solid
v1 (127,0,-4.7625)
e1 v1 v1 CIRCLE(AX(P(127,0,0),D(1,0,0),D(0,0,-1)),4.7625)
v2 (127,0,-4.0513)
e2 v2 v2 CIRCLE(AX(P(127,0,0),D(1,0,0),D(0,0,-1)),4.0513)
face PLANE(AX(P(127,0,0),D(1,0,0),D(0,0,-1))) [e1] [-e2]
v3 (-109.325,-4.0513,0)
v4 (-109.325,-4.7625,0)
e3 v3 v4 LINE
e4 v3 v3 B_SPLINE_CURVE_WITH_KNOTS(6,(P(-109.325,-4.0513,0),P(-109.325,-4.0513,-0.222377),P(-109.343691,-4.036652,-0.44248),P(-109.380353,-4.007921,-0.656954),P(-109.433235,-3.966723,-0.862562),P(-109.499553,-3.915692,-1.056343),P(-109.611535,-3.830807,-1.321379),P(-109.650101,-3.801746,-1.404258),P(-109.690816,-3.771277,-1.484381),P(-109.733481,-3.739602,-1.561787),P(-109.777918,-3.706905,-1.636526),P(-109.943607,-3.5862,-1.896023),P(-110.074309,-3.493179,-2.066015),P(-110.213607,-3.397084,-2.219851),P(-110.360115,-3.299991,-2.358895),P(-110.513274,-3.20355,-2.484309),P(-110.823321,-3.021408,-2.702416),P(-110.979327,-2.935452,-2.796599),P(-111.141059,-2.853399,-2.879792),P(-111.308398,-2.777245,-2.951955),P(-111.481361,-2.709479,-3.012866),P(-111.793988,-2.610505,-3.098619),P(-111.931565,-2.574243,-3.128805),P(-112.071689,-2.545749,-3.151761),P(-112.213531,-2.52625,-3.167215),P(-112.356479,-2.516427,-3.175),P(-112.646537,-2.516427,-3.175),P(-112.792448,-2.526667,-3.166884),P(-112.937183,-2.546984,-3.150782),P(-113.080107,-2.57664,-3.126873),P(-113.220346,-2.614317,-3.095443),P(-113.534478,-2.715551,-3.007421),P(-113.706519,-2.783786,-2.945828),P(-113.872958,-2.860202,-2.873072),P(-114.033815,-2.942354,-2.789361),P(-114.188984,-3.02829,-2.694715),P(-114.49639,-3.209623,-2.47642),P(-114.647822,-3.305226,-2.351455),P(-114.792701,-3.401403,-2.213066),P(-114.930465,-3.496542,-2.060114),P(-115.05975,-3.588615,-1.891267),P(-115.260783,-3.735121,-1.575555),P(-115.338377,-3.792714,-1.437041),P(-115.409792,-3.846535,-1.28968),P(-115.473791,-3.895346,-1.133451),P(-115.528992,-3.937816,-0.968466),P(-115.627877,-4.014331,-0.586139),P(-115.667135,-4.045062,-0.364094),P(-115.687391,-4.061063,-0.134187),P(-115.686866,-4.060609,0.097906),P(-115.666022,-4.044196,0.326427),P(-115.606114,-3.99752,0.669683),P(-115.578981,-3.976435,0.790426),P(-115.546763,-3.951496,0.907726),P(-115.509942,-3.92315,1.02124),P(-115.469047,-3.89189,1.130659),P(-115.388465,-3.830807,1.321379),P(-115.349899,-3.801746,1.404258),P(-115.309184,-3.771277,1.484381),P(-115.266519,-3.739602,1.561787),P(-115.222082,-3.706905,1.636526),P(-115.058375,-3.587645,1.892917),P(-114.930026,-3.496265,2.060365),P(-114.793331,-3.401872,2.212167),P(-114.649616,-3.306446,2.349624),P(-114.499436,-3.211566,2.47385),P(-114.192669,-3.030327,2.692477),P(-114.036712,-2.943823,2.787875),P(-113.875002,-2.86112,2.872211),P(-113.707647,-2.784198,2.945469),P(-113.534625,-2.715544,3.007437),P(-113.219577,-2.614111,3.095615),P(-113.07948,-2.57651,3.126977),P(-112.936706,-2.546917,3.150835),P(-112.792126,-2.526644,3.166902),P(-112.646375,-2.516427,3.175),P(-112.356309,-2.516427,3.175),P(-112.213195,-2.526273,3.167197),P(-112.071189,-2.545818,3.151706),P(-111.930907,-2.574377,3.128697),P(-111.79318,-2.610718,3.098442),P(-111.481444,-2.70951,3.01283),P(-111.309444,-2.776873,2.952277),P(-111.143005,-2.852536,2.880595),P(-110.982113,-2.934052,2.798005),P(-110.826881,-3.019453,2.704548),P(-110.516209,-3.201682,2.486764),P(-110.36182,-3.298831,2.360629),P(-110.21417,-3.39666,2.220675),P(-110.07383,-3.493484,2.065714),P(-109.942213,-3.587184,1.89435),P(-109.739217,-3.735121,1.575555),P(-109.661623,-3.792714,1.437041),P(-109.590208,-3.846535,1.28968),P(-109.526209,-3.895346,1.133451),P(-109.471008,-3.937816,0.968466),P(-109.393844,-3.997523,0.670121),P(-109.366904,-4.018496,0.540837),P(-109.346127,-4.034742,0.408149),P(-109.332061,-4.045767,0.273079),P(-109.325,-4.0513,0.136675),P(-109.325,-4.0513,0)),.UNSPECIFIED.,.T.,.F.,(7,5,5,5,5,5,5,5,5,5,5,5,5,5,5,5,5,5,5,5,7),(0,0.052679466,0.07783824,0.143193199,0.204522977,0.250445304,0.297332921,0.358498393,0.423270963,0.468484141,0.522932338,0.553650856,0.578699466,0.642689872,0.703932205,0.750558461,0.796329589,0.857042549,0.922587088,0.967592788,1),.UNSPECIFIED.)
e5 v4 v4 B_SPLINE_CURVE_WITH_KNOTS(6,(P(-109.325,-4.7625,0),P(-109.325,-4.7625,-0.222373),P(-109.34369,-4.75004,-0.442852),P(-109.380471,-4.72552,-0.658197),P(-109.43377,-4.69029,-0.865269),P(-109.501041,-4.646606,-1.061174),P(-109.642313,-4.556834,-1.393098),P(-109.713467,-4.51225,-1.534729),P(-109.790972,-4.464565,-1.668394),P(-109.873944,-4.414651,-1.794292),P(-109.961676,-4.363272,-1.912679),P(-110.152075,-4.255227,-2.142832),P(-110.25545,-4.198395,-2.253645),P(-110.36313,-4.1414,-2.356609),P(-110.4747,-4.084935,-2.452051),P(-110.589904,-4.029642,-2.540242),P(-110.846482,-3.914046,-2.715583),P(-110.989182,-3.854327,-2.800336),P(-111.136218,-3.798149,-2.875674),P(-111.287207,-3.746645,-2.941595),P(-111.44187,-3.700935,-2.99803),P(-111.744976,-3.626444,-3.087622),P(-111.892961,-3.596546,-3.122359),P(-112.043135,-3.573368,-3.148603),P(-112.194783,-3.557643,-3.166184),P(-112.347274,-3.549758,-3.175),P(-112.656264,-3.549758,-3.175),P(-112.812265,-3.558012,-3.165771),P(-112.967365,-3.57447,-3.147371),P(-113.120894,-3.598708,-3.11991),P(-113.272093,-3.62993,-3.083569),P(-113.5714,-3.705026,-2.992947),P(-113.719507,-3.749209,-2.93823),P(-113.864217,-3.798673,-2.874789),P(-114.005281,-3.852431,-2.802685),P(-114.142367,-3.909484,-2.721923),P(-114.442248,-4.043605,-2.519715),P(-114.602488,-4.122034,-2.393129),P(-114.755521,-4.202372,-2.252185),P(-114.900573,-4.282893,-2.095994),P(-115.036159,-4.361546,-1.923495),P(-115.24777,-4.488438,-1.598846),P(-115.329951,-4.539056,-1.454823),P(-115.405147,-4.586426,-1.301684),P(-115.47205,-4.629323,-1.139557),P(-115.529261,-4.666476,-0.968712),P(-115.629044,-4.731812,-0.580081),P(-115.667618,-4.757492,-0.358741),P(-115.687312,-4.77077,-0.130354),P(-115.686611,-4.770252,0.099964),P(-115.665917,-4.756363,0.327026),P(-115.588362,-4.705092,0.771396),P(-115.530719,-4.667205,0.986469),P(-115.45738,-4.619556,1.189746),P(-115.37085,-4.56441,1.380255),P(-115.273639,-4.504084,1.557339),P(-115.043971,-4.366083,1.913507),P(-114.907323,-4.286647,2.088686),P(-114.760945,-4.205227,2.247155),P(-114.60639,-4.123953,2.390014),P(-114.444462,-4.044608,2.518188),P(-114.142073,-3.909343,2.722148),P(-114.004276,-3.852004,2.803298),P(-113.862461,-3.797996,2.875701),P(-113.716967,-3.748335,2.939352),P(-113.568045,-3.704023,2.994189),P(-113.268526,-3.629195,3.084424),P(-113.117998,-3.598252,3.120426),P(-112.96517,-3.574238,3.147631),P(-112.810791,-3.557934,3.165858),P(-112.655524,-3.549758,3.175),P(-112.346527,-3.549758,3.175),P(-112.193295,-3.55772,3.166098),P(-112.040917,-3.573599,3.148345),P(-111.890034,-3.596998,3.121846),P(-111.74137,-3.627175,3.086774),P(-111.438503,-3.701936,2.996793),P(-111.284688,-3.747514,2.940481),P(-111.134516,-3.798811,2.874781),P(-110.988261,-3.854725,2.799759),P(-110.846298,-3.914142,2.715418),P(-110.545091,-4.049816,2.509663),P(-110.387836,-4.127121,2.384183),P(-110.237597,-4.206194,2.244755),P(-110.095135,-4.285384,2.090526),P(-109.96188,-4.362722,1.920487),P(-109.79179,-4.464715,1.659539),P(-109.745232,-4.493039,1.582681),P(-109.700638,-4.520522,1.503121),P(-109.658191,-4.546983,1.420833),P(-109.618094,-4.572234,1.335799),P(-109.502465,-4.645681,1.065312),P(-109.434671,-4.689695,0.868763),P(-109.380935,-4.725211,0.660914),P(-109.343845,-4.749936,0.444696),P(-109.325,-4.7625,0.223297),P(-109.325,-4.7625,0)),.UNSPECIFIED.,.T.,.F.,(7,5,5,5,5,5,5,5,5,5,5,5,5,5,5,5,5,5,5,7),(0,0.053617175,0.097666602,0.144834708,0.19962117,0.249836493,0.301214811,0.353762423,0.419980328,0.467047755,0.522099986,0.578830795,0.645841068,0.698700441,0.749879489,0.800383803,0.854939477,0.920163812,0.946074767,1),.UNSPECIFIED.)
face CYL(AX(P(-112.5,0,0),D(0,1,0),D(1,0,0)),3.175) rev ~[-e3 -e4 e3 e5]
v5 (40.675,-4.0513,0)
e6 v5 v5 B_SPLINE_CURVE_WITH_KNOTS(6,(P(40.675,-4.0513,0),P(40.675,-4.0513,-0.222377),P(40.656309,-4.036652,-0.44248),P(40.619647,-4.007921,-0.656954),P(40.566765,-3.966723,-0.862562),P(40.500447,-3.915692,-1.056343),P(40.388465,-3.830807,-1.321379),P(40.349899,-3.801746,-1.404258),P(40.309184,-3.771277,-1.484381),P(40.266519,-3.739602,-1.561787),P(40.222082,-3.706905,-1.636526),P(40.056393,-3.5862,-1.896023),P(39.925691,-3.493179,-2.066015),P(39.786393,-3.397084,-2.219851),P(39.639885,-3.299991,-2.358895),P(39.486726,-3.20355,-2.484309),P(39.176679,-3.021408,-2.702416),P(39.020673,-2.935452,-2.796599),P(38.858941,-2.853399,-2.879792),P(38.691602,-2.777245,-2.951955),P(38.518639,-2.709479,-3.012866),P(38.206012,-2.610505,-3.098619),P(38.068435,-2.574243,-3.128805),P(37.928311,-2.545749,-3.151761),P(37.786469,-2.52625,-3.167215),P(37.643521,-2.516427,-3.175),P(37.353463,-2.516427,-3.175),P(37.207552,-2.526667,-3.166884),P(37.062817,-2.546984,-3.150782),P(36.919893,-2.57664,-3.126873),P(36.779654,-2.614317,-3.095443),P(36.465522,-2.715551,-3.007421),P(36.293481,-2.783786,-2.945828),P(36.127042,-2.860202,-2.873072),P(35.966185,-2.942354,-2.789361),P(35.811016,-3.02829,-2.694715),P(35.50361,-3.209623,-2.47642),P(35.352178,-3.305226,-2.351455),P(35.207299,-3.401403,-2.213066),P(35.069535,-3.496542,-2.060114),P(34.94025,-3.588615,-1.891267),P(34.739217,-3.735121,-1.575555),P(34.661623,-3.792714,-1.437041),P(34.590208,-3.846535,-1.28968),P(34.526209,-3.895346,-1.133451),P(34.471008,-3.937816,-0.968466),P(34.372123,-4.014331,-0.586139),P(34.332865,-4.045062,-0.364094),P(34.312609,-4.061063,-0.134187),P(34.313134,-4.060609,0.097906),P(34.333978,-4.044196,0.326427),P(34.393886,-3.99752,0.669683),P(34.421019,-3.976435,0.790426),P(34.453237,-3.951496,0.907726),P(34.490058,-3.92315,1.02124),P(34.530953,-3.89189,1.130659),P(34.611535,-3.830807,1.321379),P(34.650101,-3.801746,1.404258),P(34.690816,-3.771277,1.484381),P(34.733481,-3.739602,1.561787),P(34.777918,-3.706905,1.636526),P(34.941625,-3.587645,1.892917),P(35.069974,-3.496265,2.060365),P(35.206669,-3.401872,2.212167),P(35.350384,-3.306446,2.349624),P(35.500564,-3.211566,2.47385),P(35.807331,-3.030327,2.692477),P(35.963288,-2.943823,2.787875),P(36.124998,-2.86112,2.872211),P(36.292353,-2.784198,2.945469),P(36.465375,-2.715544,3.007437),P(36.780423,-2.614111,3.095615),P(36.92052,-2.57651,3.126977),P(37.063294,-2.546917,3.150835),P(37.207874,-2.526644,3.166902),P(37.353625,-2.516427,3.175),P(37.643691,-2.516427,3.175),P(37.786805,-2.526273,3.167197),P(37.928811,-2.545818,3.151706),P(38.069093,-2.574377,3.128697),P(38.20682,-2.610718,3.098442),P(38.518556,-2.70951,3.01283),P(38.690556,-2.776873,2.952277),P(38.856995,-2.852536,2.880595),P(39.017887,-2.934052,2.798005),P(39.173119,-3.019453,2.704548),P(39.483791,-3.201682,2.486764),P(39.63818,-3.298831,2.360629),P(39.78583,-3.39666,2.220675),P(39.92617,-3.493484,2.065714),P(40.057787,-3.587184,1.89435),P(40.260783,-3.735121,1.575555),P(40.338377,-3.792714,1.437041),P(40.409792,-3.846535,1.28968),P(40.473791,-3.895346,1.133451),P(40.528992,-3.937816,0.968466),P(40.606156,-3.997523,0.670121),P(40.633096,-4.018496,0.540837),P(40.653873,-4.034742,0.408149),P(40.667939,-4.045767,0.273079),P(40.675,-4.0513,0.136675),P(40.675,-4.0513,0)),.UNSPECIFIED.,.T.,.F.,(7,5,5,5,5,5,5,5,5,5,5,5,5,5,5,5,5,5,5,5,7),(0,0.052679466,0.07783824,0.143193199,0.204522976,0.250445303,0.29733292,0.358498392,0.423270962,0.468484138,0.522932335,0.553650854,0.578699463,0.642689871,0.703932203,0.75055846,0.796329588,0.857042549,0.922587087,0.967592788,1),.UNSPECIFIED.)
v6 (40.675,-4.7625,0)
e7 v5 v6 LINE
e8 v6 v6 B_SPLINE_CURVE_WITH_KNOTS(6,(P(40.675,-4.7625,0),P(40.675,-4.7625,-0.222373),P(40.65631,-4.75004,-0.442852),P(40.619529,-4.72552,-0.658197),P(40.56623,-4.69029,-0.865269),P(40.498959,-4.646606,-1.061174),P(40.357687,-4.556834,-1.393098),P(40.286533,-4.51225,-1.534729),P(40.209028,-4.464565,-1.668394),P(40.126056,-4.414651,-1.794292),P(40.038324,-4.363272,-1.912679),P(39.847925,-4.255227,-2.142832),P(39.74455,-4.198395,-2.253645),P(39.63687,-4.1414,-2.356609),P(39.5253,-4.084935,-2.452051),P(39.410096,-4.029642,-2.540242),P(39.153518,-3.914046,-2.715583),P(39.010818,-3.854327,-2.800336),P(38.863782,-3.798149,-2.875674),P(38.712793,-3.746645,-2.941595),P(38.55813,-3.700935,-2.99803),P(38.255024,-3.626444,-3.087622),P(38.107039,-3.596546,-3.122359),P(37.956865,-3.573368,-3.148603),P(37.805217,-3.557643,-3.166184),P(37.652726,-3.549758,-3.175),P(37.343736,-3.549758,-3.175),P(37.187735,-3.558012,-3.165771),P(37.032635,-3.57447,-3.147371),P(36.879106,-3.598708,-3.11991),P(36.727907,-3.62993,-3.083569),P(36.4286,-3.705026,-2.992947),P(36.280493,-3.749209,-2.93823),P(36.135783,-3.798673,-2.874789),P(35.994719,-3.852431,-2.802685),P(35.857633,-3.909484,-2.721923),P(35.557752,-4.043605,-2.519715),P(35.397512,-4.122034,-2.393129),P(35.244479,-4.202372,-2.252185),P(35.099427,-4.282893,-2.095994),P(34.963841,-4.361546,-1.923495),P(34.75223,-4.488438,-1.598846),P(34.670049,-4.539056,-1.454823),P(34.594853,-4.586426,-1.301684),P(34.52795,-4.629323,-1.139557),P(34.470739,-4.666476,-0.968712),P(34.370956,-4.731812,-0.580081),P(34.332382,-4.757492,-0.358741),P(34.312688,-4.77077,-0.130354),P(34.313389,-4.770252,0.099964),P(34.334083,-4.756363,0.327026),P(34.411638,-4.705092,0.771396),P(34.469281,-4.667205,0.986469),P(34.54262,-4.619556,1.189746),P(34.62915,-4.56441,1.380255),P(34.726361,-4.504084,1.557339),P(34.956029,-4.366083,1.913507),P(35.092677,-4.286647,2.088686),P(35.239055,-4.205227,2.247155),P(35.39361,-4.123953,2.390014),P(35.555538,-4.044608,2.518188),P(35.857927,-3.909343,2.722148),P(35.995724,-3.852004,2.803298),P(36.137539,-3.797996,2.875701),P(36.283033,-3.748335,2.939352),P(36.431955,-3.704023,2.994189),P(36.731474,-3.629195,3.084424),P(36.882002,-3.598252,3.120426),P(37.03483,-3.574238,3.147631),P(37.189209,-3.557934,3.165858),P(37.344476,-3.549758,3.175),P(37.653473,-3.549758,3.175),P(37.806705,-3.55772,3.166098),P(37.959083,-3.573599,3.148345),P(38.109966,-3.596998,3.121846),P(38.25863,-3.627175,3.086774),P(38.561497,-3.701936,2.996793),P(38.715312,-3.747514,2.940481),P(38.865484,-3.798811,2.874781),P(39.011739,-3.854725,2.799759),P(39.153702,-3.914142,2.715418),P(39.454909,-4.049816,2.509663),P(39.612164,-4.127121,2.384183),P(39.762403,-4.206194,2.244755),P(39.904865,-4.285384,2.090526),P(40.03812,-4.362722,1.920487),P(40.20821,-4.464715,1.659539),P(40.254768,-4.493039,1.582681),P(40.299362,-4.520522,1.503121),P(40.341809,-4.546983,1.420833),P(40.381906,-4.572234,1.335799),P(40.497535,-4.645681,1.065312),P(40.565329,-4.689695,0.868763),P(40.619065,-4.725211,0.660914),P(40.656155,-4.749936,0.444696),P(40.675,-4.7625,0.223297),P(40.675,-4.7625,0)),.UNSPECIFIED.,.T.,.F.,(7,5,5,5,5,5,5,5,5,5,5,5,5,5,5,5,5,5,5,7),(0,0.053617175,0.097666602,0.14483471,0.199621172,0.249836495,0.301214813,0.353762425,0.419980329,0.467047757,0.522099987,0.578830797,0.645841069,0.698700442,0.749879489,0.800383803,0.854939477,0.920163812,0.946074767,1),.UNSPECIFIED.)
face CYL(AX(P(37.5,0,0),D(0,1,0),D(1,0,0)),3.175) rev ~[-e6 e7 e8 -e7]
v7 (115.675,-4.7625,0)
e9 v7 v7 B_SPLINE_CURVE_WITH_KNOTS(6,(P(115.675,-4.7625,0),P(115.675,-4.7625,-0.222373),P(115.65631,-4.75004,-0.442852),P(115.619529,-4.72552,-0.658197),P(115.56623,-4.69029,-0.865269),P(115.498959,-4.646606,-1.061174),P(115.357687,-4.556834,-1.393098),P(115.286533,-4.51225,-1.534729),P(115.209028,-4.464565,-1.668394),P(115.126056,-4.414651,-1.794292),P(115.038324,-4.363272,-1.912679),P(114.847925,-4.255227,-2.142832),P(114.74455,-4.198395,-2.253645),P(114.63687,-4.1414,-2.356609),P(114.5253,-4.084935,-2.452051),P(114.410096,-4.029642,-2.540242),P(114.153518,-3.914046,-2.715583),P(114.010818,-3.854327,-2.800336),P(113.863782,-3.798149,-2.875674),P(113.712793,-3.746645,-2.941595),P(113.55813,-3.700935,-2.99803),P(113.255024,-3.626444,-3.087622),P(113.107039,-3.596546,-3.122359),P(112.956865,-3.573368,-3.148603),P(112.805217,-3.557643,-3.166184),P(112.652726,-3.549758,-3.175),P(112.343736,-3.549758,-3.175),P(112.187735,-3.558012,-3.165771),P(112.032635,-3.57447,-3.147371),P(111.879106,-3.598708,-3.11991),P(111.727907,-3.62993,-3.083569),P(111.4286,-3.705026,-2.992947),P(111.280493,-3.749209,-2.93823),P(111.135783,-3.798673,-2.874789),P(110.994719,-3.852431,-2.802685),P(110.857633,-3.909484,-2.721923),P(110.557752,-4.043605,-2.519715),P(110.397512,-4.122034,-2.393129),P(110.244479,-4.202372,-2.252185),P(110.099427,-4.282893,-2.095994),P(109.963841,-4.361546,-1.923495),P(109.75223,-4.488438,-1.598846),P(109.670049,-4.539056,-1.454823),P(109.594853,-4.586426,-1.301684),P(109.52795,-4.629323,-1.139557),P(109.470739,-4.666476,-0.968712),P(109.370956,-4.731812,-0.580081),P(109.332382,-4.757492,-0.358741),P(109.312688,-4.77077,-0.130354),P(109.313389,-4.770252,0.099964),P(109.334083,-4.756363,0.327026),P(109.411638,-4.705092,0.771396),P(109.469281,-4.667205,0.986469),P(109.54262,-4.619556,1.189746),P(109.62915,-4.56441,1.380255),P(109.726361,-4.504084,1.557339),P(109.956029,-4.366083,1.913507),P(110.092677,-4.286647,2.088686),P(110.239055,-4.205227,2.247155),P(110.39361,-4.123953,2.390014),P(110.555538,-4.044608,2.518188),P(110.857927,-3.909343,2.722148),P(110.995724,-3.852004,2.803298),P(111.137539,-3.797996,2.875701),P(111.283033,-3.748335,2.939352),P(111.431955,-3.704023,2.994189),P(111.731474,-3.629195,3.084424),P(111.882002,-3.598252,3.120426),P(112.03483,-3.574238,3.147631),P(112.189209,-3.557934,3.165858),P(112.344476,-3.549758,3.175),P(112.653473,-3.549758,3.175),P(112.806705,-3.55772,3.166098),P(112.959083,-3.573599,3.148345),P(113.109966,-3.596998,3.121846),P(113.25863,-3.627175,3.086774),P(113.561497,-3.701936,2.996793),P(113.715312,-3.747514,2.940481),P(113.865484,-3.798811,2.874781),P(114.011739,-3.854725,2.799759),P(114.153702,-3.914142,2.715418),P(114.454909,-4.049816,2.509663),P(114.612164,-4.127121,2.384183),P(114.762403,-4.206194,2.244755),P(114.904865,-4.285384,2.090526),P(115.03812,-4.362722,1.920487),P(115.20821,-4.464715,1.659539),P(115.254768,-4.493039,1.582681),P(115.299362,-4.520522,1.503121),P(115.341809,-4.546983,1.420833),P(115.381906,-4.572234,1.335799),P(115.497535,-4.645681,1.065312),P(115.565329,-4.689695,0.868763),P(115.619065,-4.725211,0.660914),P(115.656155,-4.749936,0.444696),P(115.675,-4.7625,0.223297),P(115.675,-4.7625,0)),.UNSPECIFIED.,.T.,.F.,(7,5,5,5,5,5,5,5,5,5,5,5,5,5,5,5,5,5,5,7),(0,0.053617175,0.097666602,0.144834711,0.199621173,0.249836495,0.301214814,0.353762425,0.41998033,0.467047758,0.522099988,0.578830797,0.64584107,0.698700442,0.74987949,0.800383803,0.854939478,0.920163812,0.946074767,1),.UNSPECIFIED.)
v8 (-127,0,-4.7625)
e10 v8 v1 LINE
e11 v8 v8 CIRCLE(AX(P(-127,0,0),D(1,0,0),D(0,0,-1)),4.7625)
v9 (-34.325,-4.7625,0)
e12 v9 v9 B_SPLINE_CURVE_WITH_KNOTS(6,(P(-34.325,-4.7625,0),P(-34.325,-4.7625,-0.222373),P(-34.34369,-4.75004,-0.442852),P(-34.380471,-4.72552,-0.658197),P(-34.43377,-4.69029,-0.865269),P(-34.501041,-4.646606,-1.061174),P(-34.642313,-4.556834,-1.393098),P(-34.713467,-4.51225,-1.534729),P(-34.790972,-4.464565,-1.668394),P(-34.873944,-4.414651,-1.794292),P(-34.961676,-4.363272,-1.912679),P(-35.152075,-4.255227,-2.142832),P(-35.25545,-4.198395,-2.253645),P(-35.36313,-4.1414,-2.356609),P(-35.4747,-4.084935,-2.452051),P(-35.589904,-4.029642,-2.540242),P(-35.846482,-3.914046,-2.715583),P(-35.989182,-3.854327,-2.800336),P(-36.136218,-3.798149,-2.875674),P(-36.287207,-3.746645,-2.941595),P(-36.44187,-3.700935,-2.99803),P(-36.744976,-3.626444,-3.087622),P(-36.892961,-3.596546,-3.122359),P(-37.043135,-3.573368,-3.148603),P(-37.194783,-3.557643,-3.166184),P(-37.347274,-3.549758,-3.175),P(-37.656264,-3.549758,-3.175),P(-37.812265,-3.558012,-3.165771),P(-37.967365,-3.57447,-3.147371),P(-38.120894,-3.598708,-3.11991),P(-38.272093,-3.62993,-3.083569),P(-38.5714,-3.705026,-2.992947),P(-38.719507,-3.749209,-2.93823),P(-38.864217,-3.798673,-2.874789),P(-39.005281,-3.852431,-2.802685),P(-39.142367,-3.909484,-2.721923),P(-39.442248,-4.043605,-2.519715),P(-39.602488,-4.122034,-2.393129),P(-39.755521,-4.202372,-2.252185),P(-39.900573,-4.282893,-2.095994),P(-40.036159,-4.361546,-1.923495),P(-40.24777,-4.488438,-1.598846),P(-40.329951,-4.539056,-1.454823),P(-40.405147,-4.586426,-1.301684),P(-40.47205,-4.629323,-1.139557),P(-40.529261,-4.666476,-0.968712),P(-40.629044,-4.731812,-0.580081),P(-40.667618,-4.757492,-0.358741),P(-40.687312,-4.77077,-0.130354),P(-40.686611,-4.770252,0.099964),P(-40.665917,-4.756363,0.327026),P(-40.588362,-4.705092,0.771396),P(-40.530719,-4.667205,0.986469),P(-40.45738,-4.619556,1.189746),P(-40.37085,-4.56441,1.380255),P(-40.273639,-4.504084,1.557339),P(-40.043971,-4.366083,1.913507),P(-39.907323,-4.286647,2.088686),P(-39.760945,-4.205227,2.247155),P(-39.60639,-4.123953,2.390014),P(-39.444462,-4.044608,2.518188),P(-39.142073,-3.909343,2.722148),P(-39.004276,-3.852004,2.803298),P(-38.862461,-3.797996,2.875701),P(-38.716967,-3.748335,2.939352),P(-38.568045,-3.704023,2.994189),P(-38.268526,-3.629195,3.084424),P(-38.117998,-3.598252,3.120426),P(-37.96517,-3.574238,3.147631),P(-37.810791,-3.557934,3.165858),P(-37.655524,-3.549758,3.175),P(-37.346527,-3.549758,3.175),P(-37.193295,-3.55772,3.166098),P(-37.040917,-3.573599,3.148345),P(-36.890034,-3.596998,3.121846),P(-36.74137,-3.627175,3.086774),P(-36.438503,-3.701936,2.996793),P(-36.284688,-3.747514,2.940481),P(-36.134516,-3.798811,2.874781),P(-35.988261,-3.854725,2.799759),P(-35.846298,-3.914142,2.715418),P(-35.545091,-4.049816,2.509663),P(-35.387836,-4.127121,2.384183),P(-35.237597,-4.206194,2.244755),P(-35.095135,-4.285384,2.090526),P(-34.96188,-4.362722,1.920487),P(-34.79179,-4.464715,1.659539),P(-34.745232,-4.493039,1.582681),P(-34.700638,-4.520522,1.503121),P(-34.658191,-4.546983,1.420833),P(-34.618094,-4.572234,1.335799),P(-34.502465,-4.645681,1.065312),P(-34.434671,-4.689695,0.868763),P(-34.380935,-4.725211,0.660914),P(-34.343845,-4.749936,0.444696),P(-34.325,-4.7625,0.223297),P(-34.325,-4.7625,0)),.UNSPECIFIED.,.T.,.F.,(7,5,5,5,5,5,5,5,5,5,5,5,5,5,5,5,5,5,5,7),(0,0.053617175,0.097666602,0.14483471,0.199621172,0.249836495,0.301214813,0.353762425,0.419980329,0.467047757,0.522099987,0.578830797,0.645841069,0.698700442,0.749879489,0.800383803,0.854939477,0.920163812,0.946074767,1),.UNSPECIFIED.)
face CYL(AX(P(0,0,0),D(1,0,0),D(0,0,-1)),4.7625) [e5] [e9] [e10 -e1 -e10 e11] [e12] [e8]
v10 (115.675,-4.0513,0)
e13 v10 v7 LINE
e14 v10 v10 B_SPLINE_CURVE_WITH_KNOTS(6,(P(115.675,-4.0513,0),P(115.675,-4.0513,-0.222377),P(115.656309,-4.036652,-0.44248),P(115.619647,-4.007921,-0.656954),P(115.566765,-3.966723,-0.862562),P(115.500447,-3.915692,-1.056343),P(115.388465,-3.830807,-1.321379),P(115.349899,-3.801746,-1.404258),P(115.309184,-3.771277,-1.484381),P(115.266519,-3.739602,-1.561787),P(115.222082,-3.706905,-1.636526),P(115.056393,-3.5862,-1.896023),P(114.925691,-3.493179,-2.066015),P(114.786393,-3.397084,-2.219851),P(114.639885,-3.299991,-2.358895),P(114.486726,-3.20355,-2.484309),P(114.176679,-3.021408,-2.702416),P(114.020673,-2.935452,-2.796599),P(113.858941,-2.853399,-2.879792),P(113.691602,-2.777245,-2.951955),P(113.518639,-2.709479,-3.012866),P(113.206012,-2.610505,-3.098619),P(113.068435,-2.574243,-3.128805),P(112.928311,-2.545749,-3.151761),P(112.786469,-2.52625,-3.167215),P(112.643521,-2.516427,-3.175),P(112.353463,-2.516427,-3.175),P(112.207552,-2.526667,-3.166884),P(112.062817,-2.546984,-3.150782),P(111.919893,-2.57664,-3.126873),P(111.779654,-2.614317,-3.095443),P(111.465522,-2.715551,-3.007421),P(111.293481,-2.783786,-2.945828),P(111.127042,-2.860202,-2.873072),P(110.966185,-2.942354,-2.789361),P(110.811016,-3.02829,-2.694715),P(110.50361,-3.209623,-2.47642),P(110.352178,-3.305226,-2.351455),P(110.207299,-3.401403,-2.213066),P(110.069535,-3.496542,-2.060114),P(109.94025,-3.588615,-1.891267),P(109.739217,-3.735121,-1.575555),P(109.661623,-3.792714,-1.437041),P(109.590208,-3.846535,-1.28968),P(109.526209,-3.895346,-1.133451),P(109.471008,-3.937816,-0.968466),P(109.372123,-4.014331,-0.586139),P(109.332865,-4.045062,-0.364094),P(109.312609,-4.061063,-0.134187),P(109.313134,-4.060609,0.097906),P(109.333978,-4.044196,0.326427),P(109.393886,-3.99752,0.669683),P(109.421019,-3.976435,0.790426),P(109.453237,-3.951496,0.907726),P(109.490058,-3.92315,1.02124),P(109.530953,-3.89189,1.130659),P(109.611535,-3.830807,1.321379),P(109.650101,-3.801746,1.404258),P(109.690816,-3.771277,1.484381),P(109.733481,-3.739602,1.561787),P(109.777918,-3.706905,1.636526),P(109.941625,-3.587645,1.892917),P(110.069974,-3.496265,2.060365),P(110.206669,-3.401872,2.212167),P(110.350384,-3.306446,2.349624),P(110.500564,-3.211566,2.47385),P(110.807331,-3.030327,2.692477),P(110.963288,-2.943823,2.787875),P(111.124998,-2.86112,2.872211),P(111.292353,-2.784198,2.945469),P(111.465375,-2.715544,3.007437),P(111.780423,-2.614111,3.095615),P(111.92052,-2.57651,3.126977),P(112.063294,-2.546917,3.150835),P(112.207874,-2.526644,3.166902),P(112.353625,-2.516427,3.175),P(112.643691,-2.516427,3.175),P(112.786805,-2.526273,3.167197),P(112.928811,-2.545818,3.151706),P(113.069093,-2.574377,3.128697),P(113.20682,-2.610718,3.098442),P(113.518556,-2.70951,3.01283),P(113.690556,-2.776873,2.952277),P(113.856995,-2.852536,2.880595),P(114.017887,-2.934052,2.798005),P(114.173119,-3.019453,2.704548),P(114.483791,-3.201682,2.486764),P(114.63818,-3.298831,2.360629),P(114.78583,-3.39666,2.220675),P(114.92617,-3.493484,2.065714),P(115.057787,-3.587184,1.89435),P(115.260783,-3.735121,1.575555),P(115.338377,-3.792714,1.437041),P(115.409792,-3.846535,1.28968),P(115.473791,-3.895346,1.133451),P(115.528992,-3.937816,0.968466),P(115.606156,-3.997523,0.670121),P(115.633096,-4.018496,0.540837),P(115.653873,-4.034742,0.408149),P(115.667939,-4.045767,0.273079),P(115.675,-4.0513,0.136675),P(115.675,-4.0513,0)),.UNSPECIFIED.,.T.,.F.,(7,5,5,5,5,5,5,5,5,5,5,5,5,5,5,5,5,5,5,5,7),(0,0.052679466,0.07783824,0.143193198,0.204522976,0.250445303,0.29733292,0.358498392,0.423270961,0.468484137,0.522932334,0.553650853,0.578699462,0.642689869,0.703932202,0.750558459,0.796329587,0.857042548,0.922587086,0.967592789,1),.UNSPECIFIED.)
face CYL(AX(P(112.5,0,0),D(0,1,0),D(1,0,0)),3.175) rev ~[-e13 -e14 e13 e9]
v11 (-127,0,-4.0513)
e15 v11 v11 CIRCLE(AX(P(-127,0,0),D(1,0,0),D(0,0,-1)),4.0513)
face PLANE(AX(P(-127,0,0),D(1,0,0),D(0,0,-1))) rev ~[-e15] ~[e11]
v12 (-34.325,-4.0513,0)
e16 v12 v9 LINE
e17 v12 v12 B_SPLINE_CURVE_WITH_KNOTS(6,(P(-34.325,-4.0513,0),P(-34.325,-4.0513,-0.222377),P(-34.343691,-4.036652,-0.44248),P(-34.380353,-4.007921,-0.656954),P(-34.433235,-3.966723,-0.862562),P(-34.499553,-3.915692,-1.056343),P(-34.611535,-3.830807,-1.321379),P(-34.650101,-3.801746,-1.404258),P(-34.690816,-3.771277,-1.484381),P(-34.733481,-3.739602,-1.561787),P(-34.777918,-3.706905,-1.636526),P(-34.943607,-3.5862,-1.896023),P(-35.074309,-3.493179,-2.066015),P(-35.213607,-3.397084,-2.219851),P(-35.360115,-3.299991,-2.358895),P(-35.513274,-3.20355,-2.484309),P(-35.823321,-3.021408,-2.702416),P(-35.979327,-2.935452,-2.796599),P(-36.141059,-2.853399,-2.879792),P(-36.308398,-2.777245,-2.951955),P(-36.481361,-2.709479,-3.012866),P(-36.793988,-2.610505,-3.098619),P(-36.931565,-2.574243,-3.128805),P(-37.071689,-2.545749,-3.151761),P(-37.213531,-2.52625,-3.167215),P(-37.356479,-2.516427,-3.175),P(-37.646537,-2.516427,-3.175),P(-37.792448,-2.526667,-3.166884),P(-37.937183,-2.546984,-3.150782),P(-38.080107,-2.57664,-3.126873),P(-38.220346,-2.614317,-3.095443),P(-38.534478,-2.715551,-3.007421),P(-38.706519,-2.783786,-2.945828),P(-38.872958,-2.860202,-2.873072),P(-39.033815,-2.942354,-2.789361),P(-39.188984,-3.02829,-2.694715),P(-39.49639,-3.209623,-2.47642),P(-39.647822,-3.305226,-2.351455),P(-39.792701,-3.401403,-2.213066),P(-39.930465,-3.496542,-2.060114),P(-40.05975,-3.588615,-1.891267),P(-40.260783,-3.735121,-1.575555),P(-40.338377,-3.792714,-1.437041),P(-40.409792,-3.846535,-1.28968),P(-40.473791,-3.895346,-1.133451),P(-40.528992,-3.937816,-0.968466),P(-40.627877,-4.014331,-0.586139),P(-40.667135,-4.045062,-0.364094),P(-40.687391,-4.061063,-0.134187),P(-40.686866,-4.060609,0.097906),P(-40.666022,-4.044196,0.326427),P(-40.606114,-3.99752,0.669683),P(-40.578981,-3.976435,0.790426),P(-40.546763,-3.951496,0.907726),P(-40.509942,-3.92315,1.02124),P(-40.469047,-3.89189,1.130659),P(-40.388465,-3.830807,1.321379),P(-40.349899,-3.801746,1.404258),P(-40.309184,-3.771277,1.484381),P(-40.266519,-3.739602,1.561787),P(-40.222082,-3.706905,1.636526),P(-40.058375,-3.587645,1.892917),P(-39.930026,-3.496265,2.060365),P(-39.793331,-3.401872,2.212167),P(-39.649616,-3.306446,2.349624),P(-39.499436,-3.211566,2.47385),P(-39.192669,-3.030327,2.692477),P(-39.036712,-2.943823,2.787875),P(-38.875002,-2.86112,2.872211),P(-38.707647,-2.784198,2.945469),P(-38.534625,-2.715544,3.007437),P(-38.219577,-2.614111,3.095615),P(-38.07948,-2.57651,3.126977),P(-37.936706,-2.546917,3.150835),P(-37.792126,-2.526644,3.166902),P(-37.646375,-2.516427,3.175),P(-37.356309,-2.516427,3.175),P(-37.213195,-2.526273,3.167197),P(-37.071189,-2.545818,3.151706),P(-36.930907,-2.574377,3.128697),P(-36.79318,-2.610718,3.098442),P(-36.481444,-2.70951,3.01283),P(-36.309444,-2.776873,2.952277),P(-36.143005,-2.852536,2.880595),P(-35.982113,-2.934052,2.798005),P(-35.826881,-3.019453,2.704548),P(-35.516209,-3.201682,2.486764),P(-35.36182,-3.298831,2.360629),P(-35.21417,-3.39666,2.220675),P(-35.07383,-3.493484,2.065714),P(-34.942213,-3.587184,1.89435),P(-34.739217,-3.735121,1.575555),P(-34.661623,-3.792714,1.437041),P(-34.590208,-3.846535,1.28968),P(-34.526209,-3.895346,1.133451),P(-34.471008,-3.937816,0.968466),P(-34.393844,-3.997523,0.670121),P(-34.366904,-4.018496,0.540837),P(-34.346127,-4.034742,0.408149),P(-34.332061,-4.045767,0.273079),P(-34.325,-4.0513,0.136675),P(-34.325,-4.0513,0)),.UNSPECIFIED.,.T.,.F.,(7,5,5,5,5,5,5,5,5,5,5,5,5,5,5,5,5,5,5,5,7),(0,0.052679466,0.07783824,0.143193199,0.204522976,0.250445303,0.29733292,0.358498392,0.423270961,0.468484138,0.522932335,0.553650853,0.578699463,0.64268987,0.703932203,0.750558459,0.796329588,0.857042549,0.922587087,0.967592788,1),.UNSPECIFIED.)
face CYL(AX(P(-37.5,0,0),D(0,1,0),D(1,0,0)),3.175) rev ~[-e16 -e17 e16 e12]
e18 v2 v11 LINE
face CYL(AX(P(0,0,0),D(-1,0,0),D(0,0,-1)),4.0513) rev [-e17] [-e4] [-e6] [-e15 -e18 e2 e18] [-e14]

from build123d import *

# Parameters (mm, degrees)
SKETCH1_R           = 4.7625
SKETCH1_R_2         = 4.0513
BOSS_EXTRUDE1_DEPTH = 127
SKETCH2_R           = 3.175
CUT_EXTRUDE1_DEPTH  = 5.7625


with BuildPart() as part:
    # Sketch1 → Boss-Extrude1 (new body, symmetric)
    with BuildSketch(Plane(origin=(0, 0, 0), x_dir=(0, 0, -1), z_dir=(1, 0, 0))):
        Circle(SKETCH1_R)
        Circle(SKETCH1_R_2, mode=Mode.SUBTRACT)
    extrude(amount=BOSS_EXTRUDE1_DEPTH, both=True)

    # Sketch2 → Cut-Extrude1 (cut, through all)
    with BuildSketch(Plane(origin=(0, 0, 0), x_dir=(1, 0, 0), z_dir=(0, 1, 0))):
        with Locations((-112.5, 0)):
            Circle(SKETCH2_R)
        with Locations((-37.5, 0)):
            Circle(SKETCH2_R)
        with Locations((37.5, 0)):
            Circle(SKETCH2_R)
        with Locations((112.5, 0)):
            Circle(SKETCH2_R)
    extrude(amount=-CUT_EXTRUDE1_DEPTH, mode=Mode.SUBTRACT)


solid = part.part
